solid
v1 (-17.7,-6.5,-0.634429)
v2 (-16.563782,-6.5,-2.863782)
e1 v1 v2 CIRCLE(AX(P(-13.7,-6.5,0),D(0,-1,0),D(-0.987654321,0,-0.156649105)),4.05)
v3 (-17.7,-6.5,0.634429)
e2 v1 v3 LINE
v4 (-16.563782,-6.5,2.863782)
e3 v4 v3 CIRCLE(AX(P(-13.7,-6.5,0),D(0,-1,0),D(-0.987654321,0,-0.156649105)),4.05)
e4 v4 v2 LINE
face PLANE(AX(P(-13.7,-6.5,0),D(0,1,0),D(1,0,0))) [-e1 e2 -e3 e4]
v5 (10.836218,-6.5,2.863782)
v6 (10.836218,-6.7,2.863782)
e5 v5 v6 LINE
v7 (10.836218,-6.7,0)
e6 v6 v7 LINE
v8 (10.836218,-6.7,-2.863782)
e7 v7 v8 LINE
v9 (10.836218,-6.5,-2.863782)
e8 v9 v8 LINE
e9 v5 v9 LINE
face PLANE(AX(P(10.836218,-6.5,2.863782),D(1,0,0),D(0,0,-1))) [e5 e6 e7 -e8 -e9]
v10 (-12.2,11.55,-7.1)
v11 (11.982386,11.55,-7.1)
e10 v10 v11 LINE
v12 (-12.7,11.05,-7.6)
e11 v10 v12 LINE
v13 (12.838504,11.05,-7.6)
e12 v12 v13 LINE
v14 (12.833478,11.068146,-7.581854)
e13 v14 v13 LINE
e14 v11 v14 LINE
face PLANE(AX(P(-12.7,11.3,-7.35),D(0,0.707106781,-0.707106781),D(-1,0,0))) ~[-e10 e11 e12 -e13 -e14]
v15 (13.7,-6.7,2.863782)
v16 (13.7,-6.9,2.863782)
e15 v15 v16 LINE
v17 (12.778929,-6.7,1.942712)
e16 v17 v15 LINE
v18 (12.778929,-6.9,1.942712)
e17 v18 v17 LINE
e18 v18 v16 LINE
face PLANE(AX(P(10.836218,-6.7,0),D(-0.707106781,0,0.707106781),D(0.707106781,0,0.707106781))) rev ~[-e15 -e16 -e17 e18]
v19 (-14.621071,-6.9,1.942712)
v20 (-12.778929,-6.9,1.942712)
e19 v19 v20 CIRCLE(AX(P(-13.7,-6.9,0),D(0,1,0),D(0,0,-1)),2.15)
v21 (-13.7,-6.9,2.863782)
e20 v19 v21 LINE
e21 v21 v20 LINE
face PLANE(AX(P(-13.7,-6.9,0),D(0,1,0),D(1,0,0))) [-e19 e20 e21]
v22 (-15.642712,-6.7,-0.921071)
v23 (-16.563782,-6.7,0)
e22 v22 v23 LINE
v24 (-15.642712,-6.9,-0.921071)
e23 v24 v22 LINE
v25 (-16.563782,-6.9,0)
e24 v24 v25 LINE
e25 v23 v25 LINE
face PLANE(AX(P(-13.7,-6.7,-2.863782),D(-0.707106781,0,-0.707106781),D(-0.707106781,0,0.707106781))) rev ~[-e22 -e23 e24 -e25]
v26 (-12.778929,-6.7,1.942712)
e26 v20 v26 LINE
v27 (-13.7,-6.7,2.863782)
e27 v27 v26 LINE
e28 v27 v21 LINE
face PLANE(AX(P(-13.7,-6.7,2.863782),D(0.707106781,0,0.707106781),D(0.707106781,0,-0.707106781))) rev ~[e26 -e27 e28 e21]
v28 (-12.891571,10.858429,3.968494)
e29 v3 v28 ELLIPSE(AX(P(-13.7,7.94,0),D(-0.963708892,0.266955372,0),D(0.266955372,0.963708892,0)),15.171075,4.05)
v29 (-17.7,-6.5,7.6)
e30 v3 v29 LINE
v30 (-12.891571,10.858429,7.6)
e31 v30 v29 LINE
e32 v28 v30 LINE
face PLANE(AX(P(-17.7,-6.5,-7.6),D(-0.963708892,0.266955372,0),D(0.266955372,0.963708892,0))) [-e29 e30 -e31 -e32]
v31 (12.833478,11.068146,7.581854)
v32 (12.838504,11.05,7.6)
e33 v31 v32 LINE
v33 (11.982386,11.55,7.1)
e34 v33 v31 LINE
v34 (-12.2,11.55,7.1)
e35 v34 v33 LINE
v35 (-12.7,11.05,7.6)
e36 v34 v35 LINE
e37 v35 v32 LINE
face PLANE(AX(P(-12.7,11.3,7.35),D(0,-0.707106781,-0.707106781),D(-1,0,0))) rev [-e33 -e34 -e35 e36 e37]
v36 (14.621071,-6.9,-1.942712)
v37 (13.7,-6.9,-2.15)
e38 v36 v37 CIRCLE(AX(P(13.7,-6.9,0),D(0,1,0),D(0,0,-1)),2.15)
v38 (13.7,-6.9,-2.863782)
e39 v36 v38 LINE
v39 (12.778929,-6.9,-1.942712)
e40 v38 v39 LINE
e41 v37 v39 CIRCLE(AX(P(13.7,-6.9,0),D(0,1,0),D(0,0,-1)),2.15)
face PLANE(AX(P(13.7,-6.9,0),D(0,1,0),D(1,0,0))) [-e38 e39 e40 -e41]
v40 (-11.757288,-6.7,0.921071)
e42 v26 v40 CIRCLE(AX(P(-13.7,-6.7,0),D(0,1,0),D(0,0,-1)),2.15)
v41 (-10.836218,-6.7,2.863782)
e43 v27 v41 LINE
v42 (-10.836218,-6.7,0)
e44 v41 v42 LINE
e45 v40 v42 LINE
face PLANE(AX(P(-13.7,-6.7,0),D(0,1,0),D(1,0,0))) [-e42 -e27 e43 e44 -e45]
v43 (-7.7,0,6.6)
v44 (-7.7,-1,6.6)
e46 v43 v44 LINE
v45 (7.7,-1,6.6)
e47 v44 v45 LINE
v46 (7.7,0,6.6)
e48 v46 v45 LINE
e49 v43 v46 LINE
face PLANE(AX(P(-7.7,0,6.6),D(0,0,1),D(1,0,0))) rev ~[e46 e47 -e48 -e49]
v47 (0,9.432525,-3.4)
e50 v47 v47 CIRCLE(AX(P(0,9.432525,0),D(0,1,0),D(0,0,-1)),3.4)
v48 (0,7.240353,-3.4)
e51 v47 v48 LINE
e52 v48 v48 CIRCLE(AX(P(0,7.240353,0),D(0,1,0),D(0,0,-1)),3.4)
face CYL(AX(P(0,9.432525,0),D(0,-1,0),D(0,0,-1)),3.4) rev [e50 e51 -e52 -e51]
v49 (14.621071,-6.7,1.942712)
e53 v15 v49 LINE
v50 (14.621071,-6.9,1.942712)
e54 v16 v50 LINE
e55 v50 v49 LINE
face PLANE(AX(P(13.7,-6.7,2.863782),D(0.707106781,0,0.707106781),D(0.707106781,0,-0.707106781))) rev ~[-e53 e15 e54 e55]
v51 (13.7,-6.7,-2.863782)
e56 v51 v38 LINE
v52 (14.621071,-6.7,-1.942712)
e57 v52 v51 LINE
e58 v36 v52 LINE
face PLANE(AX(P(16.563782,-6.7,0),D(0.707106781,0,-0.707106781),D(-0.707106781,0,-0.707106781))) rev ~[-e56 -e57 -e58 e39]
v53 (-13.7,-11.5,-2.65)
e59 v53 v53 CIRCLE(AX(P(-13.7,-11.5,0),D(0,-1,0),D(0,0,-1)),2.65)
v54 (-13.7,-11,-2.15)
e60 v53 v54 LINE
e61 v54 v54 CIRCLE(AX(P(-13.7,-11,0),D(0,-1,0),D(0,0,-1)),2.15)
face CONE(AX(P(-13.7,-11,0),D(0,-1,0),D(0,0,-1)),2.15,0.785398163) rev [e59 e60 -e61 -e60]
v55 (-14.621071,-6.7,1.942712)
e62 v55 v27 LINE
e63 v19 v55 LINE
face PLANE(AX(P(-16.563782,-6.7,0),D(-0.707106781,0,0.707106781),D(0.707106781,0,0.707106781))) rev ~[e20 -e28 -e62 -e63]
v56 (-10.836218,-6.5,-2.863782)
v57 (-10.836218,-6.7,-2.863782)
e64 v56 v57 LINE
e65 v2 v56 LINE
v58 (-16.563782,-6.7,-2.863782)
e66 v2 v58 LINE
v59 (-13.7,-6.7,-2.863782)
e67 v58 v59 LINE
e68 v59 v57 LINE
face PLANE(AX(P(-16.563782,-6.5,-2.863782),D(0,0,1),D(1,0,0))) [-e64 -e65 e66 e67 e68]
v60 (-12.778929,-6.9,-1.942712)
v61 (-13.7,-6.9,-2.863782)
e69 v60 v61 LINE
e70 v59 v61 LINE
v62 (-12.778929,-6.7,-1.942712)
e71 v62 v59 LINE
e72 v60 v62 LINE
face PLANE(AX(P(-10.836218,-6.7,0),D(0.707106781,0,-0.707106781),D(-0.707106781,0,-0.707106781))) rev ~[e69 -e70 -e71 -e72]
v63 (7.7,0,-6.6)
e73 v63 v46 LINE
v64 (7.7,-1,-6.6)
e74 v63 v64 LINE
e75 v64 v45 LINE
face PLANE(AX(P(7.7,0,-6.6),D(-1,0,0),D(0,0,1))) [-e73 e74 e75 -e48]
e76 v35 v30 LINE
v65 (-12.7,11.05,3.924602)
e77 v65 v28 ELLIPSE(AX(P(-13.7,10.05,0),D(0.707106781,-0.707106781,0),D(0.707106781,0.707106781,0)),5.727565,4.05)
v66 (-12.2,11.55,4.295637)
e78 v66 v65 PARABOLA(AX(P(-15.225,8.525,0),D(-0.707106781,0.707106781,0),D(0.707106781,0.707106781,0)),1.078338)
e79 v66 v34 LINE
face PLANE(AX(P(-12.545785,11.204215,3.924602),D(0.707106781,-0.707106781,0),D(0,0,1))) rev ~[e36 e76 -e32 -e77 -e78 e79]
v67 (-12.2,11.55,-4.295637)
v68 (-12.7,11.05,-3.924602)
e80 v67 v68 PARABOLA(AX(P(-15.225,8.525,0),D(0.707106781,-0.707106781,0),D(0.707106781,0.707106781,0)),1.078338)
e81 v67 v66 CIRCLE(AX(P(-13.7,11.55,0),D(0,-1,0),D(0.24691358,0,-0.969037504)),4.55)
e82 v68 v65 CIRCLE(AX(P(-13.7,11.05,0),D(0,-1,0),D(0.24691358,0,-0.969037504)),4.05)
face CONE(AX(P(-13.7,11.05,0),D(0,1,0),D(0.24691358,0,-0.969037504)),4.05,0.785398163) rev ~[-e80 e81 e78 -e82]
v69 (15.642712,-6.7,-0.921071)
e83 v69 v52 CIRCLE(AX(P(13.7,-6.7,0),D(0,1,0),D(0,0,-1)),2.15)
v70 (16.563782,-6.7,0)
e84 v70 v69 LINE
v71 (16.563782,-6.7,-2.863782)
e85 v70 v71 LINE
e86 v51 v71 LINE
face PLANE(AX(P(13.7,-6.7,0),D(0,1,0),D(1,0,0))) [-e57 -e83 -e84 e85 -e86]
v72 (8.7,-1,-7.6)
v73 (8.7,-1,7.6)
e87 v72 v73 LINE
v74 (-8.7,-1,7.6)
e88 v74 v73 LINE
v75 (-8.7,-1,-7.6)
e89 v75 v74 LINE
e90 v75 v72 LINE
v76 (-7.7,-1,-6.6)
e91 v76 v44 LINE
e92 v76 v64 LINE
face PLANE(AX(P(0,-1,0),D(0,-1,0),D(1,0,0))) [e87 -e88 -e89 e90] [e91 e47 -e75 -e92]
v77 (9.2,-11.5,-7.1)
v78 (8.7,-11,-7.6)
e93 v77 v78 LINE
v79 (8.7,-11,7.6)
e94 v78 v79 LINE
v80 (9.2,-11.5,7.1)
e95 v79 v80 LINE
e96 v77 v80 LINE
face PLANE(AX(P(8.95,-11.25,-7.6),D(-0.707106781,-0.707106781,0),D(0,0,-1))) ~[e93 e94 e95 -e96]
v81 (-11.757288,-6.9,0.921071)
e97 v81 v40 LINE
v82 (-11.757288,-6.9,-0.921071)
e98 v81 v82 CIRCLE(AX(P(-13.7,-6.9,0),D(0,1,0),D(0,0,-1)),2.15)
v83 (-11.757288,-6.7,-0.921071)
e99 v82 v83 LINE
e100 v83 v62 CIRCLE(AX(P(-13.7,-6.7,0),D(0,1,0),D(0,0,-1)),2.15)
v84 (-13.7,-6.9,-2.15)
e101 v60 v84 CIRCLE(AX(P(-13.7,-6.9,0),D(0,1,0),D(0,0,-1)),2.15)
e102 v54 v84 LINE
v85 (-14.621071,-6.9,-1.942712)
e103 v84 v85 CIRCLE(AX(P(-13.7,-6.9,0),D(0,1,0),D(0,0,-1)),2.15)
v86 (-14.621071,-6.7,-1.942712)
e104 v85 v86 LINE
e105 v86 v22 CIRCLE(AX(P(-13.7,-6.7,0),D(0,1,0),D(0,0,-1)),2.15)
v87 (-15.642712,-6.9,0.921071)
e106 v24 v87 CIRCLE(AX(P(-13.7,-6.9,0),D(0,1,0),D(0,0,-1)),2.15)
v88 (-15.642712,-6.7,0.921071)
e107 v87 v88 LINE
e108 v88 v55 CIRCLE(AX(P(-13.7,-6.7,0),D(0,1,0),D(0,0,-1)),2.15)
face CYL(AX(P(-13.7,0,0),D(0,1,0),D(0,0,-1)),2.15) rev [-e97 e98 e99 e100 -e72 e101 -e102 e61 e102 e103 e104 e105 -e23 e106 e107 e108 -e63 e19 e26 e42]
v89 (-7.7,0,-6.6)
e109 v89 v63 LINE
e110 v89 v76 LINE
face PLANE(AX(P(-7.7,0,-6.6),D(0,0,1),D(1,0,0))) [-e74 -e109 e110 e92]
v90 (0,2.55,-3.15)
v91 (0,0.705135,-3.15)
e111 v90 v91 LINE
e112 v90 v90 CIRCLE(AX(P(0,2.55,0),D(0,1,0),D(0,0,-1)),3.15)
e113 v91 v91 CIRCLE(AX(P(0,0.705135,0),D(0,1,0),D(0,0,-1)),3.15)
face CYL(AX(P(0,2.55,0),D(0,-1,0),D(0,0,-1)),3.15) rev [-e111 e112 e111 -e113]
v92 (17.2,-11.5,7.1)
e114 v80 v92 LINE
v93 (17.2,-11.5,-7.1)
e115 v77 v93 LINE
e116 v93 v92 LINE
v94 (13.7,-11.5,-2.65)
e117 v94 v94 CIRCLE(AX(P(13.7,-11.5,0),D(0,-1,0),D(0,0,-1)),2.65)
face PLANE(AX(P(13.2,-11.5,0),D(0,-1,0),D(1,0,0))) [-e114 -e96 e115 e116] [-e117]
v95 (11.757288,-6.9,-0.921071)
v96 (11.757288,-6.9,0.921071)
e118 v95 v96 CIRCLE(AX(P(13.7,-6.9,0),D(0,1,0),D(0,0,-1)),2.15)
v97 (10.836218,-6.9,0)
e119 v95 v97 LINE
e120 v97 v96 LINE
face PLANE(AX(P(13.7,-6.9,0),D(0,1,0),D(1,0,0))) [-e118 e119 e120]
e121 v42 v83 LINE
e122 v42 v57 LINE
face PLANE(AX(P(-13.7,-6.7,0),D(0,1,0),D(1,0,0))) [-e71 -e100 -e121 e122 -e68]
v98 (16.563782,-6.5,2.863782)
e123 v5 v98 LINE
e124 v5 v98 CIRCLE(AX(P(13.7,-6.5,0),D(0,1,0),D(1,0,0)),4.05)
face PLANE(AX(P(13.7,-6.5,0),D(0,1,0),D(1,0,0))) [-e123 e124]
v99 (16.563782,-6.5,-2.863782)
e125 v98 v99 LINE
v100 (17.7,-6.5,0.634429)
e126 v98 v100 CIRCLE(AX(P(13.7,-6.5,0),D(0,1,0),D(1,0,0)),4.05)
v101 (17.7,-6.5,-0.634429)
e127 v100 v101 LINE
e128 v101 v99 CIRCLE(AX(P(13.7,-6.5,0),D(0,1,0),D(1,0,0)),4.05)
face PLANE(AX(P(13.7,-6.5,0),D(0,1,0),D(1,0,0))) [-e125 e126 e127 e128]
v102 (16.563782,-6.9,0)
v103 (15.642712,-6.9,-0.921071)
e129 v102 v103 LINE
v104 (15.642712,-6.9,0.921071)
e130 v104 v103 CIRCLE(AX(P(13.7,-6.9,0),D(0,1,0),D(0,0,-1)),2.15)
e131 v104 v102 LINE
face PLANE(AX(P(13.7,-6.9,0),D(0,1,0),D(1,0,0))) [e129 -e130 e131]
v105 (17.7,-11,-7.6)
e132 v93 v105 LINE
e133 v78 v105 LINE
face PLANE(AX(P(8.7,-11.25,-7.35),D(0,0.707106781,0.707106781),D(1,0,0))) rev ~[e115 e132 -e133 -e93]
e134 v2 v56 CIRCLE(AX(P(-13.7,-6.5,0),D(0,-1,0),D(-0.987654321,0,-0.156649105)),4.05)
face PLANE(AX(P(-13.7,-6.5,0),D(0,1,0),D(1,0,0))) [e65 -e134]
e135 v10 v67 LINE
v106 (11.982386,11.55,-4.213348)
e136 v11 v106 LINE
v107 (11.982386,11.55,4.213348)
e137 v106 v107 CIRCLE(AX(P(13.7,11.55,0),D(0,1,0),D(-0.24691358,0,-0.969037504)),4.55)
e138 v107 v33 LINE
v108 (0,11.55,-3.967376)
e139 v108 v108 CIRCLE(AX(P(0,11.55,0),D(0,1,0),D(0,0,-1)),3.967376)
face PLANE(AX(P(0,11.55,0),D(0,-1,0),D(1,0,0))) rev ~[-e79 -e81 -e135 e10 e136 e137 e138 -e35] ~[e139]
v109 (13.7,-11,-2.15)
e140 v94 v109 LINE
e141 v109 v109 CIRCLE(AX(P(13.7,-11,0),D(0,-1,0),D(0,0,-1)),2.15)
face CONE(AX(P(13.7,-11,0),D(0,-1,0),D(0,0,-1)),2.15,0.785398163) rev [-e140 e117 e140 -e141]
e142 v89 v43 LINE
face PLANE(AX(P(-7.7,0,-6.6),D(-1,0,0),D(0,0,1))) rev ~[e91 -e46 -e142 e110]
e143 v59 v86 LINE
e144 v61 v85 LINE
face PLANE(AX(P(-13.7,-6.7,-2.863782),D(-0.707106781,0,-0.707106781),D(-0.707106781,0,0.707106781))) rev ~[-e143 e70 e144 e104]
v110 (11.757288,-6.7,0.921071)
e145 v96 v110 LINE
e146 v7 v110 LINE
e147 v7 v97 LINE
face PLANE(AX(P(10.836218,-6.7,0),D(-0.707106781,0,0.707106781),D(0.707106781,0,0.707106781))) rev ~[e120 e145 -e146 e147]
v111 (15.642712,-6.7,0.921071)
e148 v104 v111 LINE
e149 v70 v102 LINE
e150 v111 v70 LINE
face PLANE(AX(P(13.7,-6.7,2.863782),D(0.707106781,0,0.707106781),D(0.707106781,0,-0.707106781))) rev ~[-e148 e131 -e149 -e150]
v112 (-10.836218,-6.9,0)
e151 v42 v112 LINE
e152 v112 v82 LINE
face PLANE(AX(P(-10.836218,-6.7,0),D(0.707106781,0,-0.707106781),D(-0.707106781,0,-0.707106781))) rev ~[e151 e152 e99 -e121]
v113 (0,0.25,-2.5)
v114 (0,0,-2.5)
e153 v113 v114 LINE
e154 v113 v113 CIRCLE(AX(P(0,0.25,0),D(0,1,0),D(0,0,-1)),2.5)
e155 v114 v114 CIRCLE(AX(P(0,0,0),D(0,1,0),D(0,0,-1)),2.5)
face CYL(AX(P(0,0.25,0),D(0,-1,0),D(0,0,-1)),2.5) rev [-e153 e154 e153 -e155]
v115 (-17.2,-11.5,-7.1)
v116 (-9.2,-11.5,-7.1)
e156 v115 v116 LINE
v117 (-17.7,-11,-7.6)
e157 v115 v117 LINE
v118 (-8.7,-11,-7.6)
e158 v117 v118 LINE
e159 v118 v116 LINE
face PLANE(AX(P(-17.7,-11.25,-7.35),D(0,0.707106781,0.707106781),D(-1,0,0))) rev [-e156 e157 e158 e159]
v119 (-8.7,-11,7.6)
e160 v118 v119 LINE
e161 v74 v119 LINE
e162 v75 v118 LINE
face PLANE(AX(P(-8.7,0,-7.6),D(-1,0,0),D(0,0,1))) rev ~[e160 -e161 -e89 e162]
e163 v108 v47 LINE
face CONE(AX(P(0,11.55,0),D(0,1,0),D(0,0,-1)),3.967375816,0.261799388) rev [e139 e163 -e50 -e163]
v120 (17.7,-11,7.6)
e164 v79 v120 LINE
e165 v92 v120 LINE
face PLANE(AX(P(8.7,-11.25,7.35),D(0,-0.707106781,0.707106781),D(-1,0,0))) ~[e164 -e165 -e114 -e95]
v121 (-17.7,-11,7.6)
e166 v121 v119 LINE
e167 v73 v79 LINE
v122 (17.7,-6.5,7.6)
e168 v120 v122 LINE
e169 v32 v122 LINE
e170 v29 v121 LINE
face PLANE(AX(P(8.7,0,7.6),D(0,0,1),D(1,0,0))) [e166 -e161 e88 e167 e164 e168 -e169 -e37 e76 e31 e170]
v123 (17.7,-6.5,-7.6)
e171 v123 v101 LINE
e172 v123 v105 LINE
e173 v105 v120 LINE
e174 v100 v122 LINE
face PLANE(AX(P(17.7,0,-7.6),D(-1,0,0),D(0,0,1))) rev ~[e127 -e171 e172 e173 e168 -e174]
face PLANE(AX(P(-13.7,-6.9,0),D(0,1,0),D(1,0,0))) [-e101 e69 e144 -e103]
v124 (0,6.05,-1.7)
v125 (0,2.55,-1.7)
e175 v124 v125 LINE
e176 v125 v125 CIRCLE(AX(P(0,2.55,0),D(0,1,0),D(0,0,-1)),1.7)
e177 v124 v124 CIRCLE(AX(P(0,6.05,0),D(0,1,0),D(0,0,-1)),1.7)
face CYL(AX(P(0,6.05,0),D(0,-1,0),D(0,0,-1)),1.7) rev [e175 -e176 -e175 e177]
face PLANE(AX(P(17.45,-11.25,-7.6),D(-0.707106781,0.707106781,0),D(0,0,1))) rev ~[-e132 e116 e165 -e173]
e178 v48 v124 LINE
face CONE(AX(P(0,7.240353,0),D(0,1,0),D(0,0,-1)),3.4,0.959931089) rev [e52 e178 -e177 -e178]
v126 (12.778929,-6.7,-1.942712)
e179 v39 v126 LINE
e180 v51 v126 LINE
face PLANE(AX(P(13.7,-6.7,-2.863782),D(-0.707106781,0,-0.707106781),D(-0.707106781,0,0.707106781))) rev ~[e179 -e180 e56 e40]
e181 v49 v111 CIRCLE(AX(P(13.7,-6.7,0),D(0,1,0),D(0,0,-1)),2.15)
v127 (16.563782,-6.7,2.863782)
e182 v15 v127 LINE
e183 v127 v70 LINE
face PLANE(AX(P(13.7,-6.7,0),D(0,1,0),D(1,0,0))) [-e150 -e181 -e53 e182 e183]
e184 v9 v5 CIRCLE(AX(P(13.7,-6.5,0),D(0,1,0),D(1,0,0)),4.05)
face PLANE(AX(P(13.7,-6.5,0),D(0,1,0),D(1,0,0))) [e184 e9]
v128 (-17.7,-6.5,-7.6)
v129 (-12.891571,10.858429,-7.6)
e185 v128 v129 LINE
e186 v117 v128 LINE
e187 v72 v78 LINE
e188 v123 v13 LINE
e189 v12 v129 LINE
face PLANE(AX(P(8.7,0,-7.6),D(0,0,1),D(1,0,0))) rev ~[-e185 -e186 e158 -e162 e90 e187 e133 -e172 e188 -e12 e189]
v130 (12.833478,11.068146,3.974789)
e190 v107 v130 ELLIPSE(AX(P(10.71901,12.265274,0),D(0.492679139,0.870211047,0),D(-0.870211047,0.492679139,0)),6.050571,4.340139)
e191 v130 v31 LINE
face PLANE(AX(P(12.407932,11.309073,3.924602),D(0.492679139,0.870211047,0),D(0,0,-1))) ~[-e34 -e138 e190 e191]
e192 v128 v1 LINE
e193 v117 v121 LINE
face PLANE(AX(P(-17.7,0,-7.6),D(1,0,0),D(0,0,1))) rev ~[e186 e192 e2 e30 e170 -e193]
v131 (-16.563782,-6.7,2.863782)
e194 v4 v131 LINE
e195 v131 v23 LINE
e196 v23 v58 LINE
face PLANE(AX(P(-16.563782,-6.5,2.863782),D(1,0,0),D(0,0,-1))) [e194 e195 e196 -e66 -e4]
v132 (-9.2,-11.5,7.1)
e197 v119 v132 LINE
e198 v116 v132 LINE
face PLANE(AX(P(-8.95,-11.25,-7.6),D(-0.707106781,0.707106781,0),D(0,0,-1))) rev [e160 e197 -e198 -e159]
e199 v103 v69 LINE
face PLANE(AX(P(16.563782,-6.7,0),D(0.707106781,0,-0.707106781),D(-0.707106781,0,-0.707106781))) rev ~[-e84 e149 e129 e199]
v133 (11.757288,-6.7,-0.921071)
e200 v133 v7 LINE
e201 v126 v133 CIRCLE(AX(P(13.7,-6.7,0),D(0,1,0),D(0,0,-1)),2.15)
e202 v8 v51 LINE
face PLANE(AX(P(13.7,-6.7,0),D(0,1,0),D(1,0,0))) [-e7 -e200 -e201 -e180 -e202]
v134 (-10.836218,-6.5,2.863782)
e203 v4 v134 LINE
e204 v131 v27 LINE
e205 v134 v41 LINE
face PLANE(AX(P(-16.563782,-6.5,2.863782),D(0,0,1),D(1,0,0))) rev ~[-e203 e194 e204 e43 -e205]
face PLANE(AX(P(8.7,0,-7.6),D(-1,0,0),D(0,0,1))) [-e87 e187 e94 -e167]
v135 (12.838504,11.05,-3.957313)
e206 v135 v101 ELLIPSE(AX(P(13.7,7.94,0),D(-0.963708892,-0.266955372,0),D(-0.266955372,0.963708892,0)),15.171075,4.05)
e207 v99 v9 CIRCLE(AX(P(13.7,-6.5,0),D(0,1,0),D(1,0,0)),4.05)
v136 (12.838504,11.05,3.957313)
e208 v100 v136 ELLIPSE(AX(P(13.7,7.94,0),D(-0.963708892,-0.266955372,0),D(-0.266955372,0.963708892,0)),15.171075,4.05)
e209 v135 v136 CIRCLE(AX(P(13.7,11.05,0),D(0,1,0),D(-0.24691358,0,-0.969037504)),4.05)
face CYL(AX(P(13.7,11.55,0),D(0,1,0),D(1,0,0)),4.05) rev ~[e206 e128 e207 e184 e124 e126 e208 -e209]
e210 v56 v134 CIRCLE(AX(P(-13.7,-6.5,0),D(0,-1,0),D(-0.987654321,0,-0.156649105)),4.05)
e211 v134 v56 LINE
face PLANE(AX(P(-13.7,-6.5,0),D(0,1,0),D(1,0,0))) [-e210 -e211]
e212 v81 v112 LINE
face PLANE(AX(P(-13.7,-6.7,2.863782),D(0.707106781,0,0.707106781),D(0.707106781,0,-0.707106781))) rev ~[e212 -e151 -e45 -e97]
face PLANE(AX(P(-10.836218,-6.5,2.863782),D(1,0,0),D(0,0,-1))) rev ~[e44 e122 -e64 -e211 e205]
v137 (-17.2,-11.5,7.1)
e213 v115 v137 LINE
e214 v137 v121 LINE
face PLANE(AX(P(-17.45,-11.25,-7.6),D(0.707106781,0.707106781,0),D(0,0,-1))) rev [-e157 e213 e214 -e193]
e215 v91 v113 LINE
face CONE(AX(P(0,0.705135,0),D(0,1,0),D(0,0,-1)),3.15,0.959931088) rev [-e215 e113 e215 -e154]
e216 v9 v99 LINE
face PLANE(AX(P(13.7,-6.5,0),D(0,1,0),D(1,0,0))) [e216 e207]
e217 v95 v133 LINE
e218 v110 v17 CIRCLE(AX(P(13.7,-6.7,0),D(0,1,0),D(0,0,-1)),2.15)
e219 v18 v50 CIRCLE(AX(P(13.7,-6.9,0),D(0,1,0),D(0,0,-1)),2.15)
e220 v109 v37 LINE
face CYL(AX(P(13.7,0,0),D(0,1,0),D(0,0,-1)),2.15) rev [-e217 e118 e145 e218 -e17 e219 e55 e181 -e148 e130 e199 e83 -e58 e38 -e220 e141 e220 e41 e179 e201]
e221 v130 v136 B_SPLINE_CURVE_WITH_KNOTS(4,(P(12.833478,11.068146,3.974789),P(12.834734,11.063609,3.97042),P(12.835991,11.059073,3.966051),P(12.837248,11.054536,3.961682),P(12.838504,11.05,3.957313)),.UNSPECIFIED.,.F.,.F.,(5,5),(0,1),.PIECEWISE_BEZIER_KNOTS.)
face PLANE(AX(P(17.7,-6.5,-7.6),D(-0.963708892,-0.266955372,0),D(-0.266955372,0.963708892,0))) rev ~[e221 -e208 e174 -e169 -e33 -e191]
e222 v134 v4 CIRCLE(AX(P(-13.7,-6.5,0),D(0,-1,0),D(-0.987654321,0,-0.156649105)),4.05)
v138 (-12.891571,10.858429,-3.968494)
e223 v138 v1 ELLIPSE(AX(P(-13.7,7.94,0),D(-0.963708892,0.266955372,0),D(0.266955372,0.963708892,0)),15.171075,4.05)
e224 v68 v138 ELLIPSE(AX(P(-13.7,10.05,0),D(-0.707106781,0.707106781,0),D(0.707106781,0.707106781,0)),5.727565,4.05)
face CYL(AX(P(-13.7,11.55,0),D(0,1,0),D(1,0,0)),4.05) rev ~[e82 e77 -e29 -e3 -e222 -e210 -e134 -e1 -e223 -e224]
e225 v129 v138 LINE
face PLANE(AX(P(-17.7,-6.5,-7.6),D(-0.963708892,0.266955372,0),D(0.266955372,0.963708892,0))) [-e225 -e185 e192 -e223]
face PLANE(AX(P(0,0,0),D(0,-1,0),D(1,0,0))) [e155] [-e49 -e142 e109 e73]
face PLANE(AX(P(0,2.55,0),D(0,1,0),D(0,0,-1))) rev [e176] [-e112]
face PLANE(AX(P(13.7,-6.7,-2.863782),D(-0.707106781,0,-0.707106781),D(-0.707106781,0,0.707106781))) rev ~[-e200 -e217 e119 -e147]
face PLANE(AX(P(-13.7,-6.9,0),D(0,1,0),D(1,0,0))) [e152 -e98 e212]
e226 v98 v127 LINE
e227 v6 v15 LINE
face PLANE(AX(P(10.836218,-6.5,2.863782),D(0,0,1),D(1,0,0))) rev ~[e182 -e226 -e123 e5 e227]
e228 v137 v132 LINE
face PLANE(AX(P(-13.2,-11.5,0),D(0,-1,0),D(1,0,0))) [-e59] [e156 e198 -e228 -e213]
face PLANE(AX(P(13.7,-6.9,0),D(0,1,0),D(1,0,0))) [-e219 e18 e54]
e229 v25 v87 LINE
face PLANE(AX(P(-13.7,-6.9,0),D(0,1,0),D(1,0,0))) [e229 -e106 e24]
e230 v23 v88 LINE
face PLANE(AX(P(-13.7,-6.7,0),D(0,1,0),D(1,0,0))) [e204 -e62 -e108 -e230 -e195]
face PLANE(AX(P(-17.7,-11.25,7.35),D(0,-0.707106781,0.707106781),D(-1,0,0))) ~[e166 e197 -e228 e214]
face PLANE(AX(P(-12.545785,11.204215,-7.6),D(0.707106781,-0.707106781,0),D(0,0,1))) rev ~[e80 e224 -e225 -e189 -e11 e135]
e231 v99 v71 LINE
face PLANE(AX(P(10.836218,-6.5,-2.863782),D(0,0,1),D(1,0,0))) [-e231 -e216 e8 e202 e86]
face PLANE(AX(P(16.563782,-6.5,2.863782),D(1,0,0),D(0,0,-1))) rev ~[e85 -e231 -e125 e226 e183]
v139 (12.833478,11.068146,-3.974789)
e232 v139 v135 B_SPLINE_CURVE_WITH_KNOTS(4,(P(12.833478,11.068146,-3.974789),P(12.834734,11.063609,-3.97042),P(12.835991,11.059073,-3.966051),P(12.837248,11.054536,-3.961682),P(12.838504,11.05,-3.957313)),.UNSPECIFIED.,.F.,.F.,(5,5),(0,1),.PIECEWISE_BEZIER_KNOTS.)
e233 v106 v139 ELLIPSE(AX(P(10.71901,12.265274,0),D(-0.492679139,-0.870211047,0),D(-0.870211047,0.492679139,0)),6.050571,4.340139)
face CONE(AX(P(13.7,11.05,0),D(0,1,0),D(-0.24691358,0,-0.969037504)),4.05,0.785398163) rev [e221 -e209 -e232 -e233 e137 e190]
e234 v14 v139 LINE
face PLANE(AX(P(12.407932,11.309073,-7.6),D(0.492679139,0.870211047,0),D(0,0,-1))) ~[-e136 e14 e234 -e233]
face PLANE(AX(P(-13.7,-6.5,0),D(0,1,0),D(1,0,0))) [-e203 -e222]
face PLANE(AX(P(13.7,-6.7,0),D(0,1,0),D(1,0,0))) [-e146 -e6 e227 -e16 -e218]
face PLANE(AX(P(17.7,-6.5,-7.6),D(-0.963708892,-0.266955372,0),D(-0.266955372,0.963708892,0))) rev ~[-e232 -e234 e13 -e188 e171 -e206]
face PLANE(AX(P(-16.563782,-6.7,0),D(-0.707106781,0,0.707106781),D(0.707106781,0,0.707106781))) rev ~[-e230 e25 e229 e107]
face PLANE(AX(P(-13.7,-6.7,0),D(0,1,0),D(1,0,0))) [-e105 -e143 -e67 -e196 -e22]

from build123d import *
from OCP.BRepFilletAPI import BRepFilletAPI_MakeChamfer

# Parameters (mm, degrees)
SKETCH3_W           = 35.4
SKETCH3_H           = 15.2
SKETCH3_R           = 2.15
SKETCH3_R_2         = 6.5
BOSS_EXTRUDE1_DEPTH = 11.55
SKETCH4_W           = 17.4
SKETCH4_H           = 15.2
SKETCH4_W_2         = 15.4
SKETCH4_H_2         = 13.2
BOSS_EXTRUDE2_DEPTH = 1
SKETCH5_W           = 9
SKETCH5_H           = 15.2
SKETCH5_R           = 2.15
BOSS_EXTRUDE3_DEPTH = 11.5
SKETCH6_R           = 4.05
CUT_EXTRUDE1_DEPTH  = 18.05
CUT_EXTRUDE4_DEPTH  = 27.033295988
CHAMFER1_SIZE       = 0.5
CHAMFER1_SIZE2      = 0.717613884
SKETCH10_W          = 5.727564928
SKETCH10_H          = 5.727564928
CUT_EXTRUDE5_DEPTH  = 0.2
CUT_EXTRUDE6_DEPTH  = 0.2


with BuildPart() as part:
    # Sketch1 → Revolve1 (revolve)
    with BuildSketch(Plane.XY, mode=Mode.PRIVATE) as revolve1_sk:
        Polygon((3.15, 0.7051349), (2.5, 0.25), (2.5, 0), (6.5, 0), (6.5, 11.55), (3.967375816, 11.55), (3.4, 9.432524629), (3.4, 7.240352815), (1.7, 6.05), (1.7, 2.55), (3.15, 2.55), align=None)
    revolve(revolve1_sk.sketch.rotate(Axis((0, 0, 0), (0, 1, 0)), 90), axis=Axis((0, 0, 0), (0, 1, 0)))

    # Sketch3 → Boss-Extrude1 (add)
    with BuildSketch(Plane.XZ):
        Rectangle(SKETCH3_W, SKETCH3_H)
        with Locations(Location((13.7, 0, 0), (0, 0, 270))):
            Circle(SKETCH3_R, mode=Mode.SUBTRACT)
        with Locations(Location((-13.7, 0, 0), (0, 0, 270))):
            Circle(SKETCH3_R, mode=Mode.SUBTRACT)
        Circle(SKETCH3_R_2, mode=Mode.SUBTRACT)
    extrude(amount=-BOSS_EXTRUDE1_DEPTH)

    # Sketch4 → Boss-Extrude2 (add)
    with BuildSketch(Plane.XZ):
        Rectangle(SKETCH4_W, SKETCH4_H)
        Rectangle(SKETCH4_W_2, SKETCH4_H_2, mode=Mode.SUBTRACT)
    extrude(amount=BOSS_EXTRUDE2_DEPTH)

    # Sketch5 → Boss-Extrude3 (add)
    with BuildSketch(Plane.XZ):
        with Locations((13.2, 0)):
            Rectangle(SKETCH5_W, SKETCH5_H)
        with Locations(Location((13.7, 0, 0), (0, 0, 270))):
            Circle(SKETCH5_R, mode=Mode.SUBTRACT)
        with Locations((-13.2, 0)):
            Rectangle(SKETCH5_W, SKETCH5_H)
        with Locations(Location((-13.7, 0, 0), (0, 0, 270))):
            Circle(SKETCH5_R, mode=Mode.SUBTRACT)
    extrude(amount=BOSS_EXTRUDE3_DEPTH)

    # Sketch6 → Cut-Extrude1 (cut)
    with BuildSketch(Plane(origin=(0, 11.55, 0), x_dir=(1, 0, 0), z_dir=(0, 1, 0))):
        with Locations((-13.7, 0)):
            Circle(SKETCH6_R)
        with Locations((13.7, 0)):
            Circle(SKETCH6_R)
    extrude(amount=-CUT_EXTRUDE1_DEPTH, mode=Mode.SUBTRACT)

    # Sketch8 → Cut-Extrude4 (cut, through all)
    with BuildSketch(Plane(origin=(0, 0, -7.6), x_dir=(-1, 0, 0), z_dir=(0, 0, -1))):
        Polygon((-17.7, -6.5), (-12.7, 11.55), (-17.7, 11.55), align=None)
        Polygon((17.7, 11.55), (17.7, -6.5), (12.7, 11.55), align=None)
    extrude(amount=-CUT_EXTRUDE4_DEPTH, mode=Mode.SUBTRACT)

    # Chamfer1: one chamfer whose edges measure the first distance from different faces: ONE call of the kernel's chamfer builder (chamfer() names one face for all edges)
    chamfer1_edges_1 = [part.edges().sort_by_distance(p)[0] for p in [
        (13.7, -11.5, 2.15),
        (17.7, -11.5, 0),
        (13.2, -11.5, -7.6),
        (8.7, -11.5, 0),
        (13.2, -11.5, 7.6),
        (-13.7, -11.5, 2.15),
        (-17.7, -11.5, 0),
        (-13.2, -11.5, 7.6),
        (-8.7, -11.5, 0),
        (-13.2, -11.5, -7.6),
        (-9.65, 11.55, 0),
        (0, 11.55, -7.6),
        (9.65, 11.55, 0),
        (0, 11.55, 7.6),
    ]]
    chamfer1_edges_2 = [part.edges().sort_by_distance(p)[0] for p in [
        (-12.7, 11.55, 5.762300945),
        (-12.7, 11.55, -5.762300945),
    ]]
    chamfer1_side_2 = [part.faces().sort_by_distance(p)[0] for p in [
        (-9.353993243, 11.55, 0),
    ]]
    chamfer1_edges_3 = [part.edges().sort_by_distance(p)[0] for p in [
        (12.7, 11.55, -5.762300945),
    ]]
    chamfer1_side_3 = [part.faces().sort_by_distance(p)[0] for p in [
        (15.4479971, 1.629730468, -5.405864047),
    ]]
    chamfer1_edges_4 = [part.edges().sort_by_distance(p)[0] for p in [
        (12.7, 11.55, 5.762300945),
    ]]
    chamfer1_side_4 = [part.faces().sort_by_distance(p)[0] for p in [
        (15.4479971, 1.629730468, 5.405864047),
    ]]
    chamfer1 = BRepFilletAPI_MakeChamfer(part.part.solid().wrapped)
    for e in chamfer1_edges_1:
        chamfer1.Add(CHAMFER1_SIZE, e.wrapped)
    for e in chamfer1_edges_2:
        chamfer1.Add(CHAMFER1_SIZE, CHAMFER1_SIZE2, e.wrapped, chamfer1_side_2[0].wrapped)  # the first distance lies on this face
    for e in chamfer1_edges_3:
        chamfer1.Add(CHAMFER1_SIZE, CHAMFER1_SIZE2, e.wrapped, chamfer1_side_3[0].wrapped)  # the first distance lies on this face
    for e in chamfer1_edges_4:
        chamfer1.Add(CHAMFER1_SIZE, CHAMFER1_SIZE2, e.wrapped, chamfer1_side_4[0].wrapped)  # the first distance lies on this face
    add(Compound.cast(chamfer1.Shape()), mode=Mode.REPLACE)

    # Sketch10 → Cut-Extrude5 (cut)
    with BuildSketch(Plane(origin=(0, -6.5, 0), x_dir=(1, 0, 0), z_dir=(0, 1, 0))):
        with Locations((-13.7, 0)):
            Rectangle(SKETCH10_W, SKETCH10_H)
        with Locations((13.7, 0)):
            Rectangle(SKETCH10_W, SKETCH10_H)
    extrude(amount=-CUT_EXTRUDE5_DEPTH, mode=Mode.SUBTRACT)

    # Sketch11 → Cut-Extrude6 (cut)
    with BuildSketch(Plane(origin=(0, -6.7, 0), x_dir=(1, 0, 0), z_dir=(0, 1, 0))):
        Polygon((-16.563782464, 0), (-13.7, -2.863782464), (-10.836217536, 0), (-13.7, 2.863782464), align=None)
        Polygon((13.7, 2.863782464), (10.836217536, 0), (13.7, -2.863782464), (16.563782464, 0), align=None)
    extrude(amount=-CUT_EXTRUDE6_DEPTH, mode=Mode.SUBTRACT)


solid = part.part
